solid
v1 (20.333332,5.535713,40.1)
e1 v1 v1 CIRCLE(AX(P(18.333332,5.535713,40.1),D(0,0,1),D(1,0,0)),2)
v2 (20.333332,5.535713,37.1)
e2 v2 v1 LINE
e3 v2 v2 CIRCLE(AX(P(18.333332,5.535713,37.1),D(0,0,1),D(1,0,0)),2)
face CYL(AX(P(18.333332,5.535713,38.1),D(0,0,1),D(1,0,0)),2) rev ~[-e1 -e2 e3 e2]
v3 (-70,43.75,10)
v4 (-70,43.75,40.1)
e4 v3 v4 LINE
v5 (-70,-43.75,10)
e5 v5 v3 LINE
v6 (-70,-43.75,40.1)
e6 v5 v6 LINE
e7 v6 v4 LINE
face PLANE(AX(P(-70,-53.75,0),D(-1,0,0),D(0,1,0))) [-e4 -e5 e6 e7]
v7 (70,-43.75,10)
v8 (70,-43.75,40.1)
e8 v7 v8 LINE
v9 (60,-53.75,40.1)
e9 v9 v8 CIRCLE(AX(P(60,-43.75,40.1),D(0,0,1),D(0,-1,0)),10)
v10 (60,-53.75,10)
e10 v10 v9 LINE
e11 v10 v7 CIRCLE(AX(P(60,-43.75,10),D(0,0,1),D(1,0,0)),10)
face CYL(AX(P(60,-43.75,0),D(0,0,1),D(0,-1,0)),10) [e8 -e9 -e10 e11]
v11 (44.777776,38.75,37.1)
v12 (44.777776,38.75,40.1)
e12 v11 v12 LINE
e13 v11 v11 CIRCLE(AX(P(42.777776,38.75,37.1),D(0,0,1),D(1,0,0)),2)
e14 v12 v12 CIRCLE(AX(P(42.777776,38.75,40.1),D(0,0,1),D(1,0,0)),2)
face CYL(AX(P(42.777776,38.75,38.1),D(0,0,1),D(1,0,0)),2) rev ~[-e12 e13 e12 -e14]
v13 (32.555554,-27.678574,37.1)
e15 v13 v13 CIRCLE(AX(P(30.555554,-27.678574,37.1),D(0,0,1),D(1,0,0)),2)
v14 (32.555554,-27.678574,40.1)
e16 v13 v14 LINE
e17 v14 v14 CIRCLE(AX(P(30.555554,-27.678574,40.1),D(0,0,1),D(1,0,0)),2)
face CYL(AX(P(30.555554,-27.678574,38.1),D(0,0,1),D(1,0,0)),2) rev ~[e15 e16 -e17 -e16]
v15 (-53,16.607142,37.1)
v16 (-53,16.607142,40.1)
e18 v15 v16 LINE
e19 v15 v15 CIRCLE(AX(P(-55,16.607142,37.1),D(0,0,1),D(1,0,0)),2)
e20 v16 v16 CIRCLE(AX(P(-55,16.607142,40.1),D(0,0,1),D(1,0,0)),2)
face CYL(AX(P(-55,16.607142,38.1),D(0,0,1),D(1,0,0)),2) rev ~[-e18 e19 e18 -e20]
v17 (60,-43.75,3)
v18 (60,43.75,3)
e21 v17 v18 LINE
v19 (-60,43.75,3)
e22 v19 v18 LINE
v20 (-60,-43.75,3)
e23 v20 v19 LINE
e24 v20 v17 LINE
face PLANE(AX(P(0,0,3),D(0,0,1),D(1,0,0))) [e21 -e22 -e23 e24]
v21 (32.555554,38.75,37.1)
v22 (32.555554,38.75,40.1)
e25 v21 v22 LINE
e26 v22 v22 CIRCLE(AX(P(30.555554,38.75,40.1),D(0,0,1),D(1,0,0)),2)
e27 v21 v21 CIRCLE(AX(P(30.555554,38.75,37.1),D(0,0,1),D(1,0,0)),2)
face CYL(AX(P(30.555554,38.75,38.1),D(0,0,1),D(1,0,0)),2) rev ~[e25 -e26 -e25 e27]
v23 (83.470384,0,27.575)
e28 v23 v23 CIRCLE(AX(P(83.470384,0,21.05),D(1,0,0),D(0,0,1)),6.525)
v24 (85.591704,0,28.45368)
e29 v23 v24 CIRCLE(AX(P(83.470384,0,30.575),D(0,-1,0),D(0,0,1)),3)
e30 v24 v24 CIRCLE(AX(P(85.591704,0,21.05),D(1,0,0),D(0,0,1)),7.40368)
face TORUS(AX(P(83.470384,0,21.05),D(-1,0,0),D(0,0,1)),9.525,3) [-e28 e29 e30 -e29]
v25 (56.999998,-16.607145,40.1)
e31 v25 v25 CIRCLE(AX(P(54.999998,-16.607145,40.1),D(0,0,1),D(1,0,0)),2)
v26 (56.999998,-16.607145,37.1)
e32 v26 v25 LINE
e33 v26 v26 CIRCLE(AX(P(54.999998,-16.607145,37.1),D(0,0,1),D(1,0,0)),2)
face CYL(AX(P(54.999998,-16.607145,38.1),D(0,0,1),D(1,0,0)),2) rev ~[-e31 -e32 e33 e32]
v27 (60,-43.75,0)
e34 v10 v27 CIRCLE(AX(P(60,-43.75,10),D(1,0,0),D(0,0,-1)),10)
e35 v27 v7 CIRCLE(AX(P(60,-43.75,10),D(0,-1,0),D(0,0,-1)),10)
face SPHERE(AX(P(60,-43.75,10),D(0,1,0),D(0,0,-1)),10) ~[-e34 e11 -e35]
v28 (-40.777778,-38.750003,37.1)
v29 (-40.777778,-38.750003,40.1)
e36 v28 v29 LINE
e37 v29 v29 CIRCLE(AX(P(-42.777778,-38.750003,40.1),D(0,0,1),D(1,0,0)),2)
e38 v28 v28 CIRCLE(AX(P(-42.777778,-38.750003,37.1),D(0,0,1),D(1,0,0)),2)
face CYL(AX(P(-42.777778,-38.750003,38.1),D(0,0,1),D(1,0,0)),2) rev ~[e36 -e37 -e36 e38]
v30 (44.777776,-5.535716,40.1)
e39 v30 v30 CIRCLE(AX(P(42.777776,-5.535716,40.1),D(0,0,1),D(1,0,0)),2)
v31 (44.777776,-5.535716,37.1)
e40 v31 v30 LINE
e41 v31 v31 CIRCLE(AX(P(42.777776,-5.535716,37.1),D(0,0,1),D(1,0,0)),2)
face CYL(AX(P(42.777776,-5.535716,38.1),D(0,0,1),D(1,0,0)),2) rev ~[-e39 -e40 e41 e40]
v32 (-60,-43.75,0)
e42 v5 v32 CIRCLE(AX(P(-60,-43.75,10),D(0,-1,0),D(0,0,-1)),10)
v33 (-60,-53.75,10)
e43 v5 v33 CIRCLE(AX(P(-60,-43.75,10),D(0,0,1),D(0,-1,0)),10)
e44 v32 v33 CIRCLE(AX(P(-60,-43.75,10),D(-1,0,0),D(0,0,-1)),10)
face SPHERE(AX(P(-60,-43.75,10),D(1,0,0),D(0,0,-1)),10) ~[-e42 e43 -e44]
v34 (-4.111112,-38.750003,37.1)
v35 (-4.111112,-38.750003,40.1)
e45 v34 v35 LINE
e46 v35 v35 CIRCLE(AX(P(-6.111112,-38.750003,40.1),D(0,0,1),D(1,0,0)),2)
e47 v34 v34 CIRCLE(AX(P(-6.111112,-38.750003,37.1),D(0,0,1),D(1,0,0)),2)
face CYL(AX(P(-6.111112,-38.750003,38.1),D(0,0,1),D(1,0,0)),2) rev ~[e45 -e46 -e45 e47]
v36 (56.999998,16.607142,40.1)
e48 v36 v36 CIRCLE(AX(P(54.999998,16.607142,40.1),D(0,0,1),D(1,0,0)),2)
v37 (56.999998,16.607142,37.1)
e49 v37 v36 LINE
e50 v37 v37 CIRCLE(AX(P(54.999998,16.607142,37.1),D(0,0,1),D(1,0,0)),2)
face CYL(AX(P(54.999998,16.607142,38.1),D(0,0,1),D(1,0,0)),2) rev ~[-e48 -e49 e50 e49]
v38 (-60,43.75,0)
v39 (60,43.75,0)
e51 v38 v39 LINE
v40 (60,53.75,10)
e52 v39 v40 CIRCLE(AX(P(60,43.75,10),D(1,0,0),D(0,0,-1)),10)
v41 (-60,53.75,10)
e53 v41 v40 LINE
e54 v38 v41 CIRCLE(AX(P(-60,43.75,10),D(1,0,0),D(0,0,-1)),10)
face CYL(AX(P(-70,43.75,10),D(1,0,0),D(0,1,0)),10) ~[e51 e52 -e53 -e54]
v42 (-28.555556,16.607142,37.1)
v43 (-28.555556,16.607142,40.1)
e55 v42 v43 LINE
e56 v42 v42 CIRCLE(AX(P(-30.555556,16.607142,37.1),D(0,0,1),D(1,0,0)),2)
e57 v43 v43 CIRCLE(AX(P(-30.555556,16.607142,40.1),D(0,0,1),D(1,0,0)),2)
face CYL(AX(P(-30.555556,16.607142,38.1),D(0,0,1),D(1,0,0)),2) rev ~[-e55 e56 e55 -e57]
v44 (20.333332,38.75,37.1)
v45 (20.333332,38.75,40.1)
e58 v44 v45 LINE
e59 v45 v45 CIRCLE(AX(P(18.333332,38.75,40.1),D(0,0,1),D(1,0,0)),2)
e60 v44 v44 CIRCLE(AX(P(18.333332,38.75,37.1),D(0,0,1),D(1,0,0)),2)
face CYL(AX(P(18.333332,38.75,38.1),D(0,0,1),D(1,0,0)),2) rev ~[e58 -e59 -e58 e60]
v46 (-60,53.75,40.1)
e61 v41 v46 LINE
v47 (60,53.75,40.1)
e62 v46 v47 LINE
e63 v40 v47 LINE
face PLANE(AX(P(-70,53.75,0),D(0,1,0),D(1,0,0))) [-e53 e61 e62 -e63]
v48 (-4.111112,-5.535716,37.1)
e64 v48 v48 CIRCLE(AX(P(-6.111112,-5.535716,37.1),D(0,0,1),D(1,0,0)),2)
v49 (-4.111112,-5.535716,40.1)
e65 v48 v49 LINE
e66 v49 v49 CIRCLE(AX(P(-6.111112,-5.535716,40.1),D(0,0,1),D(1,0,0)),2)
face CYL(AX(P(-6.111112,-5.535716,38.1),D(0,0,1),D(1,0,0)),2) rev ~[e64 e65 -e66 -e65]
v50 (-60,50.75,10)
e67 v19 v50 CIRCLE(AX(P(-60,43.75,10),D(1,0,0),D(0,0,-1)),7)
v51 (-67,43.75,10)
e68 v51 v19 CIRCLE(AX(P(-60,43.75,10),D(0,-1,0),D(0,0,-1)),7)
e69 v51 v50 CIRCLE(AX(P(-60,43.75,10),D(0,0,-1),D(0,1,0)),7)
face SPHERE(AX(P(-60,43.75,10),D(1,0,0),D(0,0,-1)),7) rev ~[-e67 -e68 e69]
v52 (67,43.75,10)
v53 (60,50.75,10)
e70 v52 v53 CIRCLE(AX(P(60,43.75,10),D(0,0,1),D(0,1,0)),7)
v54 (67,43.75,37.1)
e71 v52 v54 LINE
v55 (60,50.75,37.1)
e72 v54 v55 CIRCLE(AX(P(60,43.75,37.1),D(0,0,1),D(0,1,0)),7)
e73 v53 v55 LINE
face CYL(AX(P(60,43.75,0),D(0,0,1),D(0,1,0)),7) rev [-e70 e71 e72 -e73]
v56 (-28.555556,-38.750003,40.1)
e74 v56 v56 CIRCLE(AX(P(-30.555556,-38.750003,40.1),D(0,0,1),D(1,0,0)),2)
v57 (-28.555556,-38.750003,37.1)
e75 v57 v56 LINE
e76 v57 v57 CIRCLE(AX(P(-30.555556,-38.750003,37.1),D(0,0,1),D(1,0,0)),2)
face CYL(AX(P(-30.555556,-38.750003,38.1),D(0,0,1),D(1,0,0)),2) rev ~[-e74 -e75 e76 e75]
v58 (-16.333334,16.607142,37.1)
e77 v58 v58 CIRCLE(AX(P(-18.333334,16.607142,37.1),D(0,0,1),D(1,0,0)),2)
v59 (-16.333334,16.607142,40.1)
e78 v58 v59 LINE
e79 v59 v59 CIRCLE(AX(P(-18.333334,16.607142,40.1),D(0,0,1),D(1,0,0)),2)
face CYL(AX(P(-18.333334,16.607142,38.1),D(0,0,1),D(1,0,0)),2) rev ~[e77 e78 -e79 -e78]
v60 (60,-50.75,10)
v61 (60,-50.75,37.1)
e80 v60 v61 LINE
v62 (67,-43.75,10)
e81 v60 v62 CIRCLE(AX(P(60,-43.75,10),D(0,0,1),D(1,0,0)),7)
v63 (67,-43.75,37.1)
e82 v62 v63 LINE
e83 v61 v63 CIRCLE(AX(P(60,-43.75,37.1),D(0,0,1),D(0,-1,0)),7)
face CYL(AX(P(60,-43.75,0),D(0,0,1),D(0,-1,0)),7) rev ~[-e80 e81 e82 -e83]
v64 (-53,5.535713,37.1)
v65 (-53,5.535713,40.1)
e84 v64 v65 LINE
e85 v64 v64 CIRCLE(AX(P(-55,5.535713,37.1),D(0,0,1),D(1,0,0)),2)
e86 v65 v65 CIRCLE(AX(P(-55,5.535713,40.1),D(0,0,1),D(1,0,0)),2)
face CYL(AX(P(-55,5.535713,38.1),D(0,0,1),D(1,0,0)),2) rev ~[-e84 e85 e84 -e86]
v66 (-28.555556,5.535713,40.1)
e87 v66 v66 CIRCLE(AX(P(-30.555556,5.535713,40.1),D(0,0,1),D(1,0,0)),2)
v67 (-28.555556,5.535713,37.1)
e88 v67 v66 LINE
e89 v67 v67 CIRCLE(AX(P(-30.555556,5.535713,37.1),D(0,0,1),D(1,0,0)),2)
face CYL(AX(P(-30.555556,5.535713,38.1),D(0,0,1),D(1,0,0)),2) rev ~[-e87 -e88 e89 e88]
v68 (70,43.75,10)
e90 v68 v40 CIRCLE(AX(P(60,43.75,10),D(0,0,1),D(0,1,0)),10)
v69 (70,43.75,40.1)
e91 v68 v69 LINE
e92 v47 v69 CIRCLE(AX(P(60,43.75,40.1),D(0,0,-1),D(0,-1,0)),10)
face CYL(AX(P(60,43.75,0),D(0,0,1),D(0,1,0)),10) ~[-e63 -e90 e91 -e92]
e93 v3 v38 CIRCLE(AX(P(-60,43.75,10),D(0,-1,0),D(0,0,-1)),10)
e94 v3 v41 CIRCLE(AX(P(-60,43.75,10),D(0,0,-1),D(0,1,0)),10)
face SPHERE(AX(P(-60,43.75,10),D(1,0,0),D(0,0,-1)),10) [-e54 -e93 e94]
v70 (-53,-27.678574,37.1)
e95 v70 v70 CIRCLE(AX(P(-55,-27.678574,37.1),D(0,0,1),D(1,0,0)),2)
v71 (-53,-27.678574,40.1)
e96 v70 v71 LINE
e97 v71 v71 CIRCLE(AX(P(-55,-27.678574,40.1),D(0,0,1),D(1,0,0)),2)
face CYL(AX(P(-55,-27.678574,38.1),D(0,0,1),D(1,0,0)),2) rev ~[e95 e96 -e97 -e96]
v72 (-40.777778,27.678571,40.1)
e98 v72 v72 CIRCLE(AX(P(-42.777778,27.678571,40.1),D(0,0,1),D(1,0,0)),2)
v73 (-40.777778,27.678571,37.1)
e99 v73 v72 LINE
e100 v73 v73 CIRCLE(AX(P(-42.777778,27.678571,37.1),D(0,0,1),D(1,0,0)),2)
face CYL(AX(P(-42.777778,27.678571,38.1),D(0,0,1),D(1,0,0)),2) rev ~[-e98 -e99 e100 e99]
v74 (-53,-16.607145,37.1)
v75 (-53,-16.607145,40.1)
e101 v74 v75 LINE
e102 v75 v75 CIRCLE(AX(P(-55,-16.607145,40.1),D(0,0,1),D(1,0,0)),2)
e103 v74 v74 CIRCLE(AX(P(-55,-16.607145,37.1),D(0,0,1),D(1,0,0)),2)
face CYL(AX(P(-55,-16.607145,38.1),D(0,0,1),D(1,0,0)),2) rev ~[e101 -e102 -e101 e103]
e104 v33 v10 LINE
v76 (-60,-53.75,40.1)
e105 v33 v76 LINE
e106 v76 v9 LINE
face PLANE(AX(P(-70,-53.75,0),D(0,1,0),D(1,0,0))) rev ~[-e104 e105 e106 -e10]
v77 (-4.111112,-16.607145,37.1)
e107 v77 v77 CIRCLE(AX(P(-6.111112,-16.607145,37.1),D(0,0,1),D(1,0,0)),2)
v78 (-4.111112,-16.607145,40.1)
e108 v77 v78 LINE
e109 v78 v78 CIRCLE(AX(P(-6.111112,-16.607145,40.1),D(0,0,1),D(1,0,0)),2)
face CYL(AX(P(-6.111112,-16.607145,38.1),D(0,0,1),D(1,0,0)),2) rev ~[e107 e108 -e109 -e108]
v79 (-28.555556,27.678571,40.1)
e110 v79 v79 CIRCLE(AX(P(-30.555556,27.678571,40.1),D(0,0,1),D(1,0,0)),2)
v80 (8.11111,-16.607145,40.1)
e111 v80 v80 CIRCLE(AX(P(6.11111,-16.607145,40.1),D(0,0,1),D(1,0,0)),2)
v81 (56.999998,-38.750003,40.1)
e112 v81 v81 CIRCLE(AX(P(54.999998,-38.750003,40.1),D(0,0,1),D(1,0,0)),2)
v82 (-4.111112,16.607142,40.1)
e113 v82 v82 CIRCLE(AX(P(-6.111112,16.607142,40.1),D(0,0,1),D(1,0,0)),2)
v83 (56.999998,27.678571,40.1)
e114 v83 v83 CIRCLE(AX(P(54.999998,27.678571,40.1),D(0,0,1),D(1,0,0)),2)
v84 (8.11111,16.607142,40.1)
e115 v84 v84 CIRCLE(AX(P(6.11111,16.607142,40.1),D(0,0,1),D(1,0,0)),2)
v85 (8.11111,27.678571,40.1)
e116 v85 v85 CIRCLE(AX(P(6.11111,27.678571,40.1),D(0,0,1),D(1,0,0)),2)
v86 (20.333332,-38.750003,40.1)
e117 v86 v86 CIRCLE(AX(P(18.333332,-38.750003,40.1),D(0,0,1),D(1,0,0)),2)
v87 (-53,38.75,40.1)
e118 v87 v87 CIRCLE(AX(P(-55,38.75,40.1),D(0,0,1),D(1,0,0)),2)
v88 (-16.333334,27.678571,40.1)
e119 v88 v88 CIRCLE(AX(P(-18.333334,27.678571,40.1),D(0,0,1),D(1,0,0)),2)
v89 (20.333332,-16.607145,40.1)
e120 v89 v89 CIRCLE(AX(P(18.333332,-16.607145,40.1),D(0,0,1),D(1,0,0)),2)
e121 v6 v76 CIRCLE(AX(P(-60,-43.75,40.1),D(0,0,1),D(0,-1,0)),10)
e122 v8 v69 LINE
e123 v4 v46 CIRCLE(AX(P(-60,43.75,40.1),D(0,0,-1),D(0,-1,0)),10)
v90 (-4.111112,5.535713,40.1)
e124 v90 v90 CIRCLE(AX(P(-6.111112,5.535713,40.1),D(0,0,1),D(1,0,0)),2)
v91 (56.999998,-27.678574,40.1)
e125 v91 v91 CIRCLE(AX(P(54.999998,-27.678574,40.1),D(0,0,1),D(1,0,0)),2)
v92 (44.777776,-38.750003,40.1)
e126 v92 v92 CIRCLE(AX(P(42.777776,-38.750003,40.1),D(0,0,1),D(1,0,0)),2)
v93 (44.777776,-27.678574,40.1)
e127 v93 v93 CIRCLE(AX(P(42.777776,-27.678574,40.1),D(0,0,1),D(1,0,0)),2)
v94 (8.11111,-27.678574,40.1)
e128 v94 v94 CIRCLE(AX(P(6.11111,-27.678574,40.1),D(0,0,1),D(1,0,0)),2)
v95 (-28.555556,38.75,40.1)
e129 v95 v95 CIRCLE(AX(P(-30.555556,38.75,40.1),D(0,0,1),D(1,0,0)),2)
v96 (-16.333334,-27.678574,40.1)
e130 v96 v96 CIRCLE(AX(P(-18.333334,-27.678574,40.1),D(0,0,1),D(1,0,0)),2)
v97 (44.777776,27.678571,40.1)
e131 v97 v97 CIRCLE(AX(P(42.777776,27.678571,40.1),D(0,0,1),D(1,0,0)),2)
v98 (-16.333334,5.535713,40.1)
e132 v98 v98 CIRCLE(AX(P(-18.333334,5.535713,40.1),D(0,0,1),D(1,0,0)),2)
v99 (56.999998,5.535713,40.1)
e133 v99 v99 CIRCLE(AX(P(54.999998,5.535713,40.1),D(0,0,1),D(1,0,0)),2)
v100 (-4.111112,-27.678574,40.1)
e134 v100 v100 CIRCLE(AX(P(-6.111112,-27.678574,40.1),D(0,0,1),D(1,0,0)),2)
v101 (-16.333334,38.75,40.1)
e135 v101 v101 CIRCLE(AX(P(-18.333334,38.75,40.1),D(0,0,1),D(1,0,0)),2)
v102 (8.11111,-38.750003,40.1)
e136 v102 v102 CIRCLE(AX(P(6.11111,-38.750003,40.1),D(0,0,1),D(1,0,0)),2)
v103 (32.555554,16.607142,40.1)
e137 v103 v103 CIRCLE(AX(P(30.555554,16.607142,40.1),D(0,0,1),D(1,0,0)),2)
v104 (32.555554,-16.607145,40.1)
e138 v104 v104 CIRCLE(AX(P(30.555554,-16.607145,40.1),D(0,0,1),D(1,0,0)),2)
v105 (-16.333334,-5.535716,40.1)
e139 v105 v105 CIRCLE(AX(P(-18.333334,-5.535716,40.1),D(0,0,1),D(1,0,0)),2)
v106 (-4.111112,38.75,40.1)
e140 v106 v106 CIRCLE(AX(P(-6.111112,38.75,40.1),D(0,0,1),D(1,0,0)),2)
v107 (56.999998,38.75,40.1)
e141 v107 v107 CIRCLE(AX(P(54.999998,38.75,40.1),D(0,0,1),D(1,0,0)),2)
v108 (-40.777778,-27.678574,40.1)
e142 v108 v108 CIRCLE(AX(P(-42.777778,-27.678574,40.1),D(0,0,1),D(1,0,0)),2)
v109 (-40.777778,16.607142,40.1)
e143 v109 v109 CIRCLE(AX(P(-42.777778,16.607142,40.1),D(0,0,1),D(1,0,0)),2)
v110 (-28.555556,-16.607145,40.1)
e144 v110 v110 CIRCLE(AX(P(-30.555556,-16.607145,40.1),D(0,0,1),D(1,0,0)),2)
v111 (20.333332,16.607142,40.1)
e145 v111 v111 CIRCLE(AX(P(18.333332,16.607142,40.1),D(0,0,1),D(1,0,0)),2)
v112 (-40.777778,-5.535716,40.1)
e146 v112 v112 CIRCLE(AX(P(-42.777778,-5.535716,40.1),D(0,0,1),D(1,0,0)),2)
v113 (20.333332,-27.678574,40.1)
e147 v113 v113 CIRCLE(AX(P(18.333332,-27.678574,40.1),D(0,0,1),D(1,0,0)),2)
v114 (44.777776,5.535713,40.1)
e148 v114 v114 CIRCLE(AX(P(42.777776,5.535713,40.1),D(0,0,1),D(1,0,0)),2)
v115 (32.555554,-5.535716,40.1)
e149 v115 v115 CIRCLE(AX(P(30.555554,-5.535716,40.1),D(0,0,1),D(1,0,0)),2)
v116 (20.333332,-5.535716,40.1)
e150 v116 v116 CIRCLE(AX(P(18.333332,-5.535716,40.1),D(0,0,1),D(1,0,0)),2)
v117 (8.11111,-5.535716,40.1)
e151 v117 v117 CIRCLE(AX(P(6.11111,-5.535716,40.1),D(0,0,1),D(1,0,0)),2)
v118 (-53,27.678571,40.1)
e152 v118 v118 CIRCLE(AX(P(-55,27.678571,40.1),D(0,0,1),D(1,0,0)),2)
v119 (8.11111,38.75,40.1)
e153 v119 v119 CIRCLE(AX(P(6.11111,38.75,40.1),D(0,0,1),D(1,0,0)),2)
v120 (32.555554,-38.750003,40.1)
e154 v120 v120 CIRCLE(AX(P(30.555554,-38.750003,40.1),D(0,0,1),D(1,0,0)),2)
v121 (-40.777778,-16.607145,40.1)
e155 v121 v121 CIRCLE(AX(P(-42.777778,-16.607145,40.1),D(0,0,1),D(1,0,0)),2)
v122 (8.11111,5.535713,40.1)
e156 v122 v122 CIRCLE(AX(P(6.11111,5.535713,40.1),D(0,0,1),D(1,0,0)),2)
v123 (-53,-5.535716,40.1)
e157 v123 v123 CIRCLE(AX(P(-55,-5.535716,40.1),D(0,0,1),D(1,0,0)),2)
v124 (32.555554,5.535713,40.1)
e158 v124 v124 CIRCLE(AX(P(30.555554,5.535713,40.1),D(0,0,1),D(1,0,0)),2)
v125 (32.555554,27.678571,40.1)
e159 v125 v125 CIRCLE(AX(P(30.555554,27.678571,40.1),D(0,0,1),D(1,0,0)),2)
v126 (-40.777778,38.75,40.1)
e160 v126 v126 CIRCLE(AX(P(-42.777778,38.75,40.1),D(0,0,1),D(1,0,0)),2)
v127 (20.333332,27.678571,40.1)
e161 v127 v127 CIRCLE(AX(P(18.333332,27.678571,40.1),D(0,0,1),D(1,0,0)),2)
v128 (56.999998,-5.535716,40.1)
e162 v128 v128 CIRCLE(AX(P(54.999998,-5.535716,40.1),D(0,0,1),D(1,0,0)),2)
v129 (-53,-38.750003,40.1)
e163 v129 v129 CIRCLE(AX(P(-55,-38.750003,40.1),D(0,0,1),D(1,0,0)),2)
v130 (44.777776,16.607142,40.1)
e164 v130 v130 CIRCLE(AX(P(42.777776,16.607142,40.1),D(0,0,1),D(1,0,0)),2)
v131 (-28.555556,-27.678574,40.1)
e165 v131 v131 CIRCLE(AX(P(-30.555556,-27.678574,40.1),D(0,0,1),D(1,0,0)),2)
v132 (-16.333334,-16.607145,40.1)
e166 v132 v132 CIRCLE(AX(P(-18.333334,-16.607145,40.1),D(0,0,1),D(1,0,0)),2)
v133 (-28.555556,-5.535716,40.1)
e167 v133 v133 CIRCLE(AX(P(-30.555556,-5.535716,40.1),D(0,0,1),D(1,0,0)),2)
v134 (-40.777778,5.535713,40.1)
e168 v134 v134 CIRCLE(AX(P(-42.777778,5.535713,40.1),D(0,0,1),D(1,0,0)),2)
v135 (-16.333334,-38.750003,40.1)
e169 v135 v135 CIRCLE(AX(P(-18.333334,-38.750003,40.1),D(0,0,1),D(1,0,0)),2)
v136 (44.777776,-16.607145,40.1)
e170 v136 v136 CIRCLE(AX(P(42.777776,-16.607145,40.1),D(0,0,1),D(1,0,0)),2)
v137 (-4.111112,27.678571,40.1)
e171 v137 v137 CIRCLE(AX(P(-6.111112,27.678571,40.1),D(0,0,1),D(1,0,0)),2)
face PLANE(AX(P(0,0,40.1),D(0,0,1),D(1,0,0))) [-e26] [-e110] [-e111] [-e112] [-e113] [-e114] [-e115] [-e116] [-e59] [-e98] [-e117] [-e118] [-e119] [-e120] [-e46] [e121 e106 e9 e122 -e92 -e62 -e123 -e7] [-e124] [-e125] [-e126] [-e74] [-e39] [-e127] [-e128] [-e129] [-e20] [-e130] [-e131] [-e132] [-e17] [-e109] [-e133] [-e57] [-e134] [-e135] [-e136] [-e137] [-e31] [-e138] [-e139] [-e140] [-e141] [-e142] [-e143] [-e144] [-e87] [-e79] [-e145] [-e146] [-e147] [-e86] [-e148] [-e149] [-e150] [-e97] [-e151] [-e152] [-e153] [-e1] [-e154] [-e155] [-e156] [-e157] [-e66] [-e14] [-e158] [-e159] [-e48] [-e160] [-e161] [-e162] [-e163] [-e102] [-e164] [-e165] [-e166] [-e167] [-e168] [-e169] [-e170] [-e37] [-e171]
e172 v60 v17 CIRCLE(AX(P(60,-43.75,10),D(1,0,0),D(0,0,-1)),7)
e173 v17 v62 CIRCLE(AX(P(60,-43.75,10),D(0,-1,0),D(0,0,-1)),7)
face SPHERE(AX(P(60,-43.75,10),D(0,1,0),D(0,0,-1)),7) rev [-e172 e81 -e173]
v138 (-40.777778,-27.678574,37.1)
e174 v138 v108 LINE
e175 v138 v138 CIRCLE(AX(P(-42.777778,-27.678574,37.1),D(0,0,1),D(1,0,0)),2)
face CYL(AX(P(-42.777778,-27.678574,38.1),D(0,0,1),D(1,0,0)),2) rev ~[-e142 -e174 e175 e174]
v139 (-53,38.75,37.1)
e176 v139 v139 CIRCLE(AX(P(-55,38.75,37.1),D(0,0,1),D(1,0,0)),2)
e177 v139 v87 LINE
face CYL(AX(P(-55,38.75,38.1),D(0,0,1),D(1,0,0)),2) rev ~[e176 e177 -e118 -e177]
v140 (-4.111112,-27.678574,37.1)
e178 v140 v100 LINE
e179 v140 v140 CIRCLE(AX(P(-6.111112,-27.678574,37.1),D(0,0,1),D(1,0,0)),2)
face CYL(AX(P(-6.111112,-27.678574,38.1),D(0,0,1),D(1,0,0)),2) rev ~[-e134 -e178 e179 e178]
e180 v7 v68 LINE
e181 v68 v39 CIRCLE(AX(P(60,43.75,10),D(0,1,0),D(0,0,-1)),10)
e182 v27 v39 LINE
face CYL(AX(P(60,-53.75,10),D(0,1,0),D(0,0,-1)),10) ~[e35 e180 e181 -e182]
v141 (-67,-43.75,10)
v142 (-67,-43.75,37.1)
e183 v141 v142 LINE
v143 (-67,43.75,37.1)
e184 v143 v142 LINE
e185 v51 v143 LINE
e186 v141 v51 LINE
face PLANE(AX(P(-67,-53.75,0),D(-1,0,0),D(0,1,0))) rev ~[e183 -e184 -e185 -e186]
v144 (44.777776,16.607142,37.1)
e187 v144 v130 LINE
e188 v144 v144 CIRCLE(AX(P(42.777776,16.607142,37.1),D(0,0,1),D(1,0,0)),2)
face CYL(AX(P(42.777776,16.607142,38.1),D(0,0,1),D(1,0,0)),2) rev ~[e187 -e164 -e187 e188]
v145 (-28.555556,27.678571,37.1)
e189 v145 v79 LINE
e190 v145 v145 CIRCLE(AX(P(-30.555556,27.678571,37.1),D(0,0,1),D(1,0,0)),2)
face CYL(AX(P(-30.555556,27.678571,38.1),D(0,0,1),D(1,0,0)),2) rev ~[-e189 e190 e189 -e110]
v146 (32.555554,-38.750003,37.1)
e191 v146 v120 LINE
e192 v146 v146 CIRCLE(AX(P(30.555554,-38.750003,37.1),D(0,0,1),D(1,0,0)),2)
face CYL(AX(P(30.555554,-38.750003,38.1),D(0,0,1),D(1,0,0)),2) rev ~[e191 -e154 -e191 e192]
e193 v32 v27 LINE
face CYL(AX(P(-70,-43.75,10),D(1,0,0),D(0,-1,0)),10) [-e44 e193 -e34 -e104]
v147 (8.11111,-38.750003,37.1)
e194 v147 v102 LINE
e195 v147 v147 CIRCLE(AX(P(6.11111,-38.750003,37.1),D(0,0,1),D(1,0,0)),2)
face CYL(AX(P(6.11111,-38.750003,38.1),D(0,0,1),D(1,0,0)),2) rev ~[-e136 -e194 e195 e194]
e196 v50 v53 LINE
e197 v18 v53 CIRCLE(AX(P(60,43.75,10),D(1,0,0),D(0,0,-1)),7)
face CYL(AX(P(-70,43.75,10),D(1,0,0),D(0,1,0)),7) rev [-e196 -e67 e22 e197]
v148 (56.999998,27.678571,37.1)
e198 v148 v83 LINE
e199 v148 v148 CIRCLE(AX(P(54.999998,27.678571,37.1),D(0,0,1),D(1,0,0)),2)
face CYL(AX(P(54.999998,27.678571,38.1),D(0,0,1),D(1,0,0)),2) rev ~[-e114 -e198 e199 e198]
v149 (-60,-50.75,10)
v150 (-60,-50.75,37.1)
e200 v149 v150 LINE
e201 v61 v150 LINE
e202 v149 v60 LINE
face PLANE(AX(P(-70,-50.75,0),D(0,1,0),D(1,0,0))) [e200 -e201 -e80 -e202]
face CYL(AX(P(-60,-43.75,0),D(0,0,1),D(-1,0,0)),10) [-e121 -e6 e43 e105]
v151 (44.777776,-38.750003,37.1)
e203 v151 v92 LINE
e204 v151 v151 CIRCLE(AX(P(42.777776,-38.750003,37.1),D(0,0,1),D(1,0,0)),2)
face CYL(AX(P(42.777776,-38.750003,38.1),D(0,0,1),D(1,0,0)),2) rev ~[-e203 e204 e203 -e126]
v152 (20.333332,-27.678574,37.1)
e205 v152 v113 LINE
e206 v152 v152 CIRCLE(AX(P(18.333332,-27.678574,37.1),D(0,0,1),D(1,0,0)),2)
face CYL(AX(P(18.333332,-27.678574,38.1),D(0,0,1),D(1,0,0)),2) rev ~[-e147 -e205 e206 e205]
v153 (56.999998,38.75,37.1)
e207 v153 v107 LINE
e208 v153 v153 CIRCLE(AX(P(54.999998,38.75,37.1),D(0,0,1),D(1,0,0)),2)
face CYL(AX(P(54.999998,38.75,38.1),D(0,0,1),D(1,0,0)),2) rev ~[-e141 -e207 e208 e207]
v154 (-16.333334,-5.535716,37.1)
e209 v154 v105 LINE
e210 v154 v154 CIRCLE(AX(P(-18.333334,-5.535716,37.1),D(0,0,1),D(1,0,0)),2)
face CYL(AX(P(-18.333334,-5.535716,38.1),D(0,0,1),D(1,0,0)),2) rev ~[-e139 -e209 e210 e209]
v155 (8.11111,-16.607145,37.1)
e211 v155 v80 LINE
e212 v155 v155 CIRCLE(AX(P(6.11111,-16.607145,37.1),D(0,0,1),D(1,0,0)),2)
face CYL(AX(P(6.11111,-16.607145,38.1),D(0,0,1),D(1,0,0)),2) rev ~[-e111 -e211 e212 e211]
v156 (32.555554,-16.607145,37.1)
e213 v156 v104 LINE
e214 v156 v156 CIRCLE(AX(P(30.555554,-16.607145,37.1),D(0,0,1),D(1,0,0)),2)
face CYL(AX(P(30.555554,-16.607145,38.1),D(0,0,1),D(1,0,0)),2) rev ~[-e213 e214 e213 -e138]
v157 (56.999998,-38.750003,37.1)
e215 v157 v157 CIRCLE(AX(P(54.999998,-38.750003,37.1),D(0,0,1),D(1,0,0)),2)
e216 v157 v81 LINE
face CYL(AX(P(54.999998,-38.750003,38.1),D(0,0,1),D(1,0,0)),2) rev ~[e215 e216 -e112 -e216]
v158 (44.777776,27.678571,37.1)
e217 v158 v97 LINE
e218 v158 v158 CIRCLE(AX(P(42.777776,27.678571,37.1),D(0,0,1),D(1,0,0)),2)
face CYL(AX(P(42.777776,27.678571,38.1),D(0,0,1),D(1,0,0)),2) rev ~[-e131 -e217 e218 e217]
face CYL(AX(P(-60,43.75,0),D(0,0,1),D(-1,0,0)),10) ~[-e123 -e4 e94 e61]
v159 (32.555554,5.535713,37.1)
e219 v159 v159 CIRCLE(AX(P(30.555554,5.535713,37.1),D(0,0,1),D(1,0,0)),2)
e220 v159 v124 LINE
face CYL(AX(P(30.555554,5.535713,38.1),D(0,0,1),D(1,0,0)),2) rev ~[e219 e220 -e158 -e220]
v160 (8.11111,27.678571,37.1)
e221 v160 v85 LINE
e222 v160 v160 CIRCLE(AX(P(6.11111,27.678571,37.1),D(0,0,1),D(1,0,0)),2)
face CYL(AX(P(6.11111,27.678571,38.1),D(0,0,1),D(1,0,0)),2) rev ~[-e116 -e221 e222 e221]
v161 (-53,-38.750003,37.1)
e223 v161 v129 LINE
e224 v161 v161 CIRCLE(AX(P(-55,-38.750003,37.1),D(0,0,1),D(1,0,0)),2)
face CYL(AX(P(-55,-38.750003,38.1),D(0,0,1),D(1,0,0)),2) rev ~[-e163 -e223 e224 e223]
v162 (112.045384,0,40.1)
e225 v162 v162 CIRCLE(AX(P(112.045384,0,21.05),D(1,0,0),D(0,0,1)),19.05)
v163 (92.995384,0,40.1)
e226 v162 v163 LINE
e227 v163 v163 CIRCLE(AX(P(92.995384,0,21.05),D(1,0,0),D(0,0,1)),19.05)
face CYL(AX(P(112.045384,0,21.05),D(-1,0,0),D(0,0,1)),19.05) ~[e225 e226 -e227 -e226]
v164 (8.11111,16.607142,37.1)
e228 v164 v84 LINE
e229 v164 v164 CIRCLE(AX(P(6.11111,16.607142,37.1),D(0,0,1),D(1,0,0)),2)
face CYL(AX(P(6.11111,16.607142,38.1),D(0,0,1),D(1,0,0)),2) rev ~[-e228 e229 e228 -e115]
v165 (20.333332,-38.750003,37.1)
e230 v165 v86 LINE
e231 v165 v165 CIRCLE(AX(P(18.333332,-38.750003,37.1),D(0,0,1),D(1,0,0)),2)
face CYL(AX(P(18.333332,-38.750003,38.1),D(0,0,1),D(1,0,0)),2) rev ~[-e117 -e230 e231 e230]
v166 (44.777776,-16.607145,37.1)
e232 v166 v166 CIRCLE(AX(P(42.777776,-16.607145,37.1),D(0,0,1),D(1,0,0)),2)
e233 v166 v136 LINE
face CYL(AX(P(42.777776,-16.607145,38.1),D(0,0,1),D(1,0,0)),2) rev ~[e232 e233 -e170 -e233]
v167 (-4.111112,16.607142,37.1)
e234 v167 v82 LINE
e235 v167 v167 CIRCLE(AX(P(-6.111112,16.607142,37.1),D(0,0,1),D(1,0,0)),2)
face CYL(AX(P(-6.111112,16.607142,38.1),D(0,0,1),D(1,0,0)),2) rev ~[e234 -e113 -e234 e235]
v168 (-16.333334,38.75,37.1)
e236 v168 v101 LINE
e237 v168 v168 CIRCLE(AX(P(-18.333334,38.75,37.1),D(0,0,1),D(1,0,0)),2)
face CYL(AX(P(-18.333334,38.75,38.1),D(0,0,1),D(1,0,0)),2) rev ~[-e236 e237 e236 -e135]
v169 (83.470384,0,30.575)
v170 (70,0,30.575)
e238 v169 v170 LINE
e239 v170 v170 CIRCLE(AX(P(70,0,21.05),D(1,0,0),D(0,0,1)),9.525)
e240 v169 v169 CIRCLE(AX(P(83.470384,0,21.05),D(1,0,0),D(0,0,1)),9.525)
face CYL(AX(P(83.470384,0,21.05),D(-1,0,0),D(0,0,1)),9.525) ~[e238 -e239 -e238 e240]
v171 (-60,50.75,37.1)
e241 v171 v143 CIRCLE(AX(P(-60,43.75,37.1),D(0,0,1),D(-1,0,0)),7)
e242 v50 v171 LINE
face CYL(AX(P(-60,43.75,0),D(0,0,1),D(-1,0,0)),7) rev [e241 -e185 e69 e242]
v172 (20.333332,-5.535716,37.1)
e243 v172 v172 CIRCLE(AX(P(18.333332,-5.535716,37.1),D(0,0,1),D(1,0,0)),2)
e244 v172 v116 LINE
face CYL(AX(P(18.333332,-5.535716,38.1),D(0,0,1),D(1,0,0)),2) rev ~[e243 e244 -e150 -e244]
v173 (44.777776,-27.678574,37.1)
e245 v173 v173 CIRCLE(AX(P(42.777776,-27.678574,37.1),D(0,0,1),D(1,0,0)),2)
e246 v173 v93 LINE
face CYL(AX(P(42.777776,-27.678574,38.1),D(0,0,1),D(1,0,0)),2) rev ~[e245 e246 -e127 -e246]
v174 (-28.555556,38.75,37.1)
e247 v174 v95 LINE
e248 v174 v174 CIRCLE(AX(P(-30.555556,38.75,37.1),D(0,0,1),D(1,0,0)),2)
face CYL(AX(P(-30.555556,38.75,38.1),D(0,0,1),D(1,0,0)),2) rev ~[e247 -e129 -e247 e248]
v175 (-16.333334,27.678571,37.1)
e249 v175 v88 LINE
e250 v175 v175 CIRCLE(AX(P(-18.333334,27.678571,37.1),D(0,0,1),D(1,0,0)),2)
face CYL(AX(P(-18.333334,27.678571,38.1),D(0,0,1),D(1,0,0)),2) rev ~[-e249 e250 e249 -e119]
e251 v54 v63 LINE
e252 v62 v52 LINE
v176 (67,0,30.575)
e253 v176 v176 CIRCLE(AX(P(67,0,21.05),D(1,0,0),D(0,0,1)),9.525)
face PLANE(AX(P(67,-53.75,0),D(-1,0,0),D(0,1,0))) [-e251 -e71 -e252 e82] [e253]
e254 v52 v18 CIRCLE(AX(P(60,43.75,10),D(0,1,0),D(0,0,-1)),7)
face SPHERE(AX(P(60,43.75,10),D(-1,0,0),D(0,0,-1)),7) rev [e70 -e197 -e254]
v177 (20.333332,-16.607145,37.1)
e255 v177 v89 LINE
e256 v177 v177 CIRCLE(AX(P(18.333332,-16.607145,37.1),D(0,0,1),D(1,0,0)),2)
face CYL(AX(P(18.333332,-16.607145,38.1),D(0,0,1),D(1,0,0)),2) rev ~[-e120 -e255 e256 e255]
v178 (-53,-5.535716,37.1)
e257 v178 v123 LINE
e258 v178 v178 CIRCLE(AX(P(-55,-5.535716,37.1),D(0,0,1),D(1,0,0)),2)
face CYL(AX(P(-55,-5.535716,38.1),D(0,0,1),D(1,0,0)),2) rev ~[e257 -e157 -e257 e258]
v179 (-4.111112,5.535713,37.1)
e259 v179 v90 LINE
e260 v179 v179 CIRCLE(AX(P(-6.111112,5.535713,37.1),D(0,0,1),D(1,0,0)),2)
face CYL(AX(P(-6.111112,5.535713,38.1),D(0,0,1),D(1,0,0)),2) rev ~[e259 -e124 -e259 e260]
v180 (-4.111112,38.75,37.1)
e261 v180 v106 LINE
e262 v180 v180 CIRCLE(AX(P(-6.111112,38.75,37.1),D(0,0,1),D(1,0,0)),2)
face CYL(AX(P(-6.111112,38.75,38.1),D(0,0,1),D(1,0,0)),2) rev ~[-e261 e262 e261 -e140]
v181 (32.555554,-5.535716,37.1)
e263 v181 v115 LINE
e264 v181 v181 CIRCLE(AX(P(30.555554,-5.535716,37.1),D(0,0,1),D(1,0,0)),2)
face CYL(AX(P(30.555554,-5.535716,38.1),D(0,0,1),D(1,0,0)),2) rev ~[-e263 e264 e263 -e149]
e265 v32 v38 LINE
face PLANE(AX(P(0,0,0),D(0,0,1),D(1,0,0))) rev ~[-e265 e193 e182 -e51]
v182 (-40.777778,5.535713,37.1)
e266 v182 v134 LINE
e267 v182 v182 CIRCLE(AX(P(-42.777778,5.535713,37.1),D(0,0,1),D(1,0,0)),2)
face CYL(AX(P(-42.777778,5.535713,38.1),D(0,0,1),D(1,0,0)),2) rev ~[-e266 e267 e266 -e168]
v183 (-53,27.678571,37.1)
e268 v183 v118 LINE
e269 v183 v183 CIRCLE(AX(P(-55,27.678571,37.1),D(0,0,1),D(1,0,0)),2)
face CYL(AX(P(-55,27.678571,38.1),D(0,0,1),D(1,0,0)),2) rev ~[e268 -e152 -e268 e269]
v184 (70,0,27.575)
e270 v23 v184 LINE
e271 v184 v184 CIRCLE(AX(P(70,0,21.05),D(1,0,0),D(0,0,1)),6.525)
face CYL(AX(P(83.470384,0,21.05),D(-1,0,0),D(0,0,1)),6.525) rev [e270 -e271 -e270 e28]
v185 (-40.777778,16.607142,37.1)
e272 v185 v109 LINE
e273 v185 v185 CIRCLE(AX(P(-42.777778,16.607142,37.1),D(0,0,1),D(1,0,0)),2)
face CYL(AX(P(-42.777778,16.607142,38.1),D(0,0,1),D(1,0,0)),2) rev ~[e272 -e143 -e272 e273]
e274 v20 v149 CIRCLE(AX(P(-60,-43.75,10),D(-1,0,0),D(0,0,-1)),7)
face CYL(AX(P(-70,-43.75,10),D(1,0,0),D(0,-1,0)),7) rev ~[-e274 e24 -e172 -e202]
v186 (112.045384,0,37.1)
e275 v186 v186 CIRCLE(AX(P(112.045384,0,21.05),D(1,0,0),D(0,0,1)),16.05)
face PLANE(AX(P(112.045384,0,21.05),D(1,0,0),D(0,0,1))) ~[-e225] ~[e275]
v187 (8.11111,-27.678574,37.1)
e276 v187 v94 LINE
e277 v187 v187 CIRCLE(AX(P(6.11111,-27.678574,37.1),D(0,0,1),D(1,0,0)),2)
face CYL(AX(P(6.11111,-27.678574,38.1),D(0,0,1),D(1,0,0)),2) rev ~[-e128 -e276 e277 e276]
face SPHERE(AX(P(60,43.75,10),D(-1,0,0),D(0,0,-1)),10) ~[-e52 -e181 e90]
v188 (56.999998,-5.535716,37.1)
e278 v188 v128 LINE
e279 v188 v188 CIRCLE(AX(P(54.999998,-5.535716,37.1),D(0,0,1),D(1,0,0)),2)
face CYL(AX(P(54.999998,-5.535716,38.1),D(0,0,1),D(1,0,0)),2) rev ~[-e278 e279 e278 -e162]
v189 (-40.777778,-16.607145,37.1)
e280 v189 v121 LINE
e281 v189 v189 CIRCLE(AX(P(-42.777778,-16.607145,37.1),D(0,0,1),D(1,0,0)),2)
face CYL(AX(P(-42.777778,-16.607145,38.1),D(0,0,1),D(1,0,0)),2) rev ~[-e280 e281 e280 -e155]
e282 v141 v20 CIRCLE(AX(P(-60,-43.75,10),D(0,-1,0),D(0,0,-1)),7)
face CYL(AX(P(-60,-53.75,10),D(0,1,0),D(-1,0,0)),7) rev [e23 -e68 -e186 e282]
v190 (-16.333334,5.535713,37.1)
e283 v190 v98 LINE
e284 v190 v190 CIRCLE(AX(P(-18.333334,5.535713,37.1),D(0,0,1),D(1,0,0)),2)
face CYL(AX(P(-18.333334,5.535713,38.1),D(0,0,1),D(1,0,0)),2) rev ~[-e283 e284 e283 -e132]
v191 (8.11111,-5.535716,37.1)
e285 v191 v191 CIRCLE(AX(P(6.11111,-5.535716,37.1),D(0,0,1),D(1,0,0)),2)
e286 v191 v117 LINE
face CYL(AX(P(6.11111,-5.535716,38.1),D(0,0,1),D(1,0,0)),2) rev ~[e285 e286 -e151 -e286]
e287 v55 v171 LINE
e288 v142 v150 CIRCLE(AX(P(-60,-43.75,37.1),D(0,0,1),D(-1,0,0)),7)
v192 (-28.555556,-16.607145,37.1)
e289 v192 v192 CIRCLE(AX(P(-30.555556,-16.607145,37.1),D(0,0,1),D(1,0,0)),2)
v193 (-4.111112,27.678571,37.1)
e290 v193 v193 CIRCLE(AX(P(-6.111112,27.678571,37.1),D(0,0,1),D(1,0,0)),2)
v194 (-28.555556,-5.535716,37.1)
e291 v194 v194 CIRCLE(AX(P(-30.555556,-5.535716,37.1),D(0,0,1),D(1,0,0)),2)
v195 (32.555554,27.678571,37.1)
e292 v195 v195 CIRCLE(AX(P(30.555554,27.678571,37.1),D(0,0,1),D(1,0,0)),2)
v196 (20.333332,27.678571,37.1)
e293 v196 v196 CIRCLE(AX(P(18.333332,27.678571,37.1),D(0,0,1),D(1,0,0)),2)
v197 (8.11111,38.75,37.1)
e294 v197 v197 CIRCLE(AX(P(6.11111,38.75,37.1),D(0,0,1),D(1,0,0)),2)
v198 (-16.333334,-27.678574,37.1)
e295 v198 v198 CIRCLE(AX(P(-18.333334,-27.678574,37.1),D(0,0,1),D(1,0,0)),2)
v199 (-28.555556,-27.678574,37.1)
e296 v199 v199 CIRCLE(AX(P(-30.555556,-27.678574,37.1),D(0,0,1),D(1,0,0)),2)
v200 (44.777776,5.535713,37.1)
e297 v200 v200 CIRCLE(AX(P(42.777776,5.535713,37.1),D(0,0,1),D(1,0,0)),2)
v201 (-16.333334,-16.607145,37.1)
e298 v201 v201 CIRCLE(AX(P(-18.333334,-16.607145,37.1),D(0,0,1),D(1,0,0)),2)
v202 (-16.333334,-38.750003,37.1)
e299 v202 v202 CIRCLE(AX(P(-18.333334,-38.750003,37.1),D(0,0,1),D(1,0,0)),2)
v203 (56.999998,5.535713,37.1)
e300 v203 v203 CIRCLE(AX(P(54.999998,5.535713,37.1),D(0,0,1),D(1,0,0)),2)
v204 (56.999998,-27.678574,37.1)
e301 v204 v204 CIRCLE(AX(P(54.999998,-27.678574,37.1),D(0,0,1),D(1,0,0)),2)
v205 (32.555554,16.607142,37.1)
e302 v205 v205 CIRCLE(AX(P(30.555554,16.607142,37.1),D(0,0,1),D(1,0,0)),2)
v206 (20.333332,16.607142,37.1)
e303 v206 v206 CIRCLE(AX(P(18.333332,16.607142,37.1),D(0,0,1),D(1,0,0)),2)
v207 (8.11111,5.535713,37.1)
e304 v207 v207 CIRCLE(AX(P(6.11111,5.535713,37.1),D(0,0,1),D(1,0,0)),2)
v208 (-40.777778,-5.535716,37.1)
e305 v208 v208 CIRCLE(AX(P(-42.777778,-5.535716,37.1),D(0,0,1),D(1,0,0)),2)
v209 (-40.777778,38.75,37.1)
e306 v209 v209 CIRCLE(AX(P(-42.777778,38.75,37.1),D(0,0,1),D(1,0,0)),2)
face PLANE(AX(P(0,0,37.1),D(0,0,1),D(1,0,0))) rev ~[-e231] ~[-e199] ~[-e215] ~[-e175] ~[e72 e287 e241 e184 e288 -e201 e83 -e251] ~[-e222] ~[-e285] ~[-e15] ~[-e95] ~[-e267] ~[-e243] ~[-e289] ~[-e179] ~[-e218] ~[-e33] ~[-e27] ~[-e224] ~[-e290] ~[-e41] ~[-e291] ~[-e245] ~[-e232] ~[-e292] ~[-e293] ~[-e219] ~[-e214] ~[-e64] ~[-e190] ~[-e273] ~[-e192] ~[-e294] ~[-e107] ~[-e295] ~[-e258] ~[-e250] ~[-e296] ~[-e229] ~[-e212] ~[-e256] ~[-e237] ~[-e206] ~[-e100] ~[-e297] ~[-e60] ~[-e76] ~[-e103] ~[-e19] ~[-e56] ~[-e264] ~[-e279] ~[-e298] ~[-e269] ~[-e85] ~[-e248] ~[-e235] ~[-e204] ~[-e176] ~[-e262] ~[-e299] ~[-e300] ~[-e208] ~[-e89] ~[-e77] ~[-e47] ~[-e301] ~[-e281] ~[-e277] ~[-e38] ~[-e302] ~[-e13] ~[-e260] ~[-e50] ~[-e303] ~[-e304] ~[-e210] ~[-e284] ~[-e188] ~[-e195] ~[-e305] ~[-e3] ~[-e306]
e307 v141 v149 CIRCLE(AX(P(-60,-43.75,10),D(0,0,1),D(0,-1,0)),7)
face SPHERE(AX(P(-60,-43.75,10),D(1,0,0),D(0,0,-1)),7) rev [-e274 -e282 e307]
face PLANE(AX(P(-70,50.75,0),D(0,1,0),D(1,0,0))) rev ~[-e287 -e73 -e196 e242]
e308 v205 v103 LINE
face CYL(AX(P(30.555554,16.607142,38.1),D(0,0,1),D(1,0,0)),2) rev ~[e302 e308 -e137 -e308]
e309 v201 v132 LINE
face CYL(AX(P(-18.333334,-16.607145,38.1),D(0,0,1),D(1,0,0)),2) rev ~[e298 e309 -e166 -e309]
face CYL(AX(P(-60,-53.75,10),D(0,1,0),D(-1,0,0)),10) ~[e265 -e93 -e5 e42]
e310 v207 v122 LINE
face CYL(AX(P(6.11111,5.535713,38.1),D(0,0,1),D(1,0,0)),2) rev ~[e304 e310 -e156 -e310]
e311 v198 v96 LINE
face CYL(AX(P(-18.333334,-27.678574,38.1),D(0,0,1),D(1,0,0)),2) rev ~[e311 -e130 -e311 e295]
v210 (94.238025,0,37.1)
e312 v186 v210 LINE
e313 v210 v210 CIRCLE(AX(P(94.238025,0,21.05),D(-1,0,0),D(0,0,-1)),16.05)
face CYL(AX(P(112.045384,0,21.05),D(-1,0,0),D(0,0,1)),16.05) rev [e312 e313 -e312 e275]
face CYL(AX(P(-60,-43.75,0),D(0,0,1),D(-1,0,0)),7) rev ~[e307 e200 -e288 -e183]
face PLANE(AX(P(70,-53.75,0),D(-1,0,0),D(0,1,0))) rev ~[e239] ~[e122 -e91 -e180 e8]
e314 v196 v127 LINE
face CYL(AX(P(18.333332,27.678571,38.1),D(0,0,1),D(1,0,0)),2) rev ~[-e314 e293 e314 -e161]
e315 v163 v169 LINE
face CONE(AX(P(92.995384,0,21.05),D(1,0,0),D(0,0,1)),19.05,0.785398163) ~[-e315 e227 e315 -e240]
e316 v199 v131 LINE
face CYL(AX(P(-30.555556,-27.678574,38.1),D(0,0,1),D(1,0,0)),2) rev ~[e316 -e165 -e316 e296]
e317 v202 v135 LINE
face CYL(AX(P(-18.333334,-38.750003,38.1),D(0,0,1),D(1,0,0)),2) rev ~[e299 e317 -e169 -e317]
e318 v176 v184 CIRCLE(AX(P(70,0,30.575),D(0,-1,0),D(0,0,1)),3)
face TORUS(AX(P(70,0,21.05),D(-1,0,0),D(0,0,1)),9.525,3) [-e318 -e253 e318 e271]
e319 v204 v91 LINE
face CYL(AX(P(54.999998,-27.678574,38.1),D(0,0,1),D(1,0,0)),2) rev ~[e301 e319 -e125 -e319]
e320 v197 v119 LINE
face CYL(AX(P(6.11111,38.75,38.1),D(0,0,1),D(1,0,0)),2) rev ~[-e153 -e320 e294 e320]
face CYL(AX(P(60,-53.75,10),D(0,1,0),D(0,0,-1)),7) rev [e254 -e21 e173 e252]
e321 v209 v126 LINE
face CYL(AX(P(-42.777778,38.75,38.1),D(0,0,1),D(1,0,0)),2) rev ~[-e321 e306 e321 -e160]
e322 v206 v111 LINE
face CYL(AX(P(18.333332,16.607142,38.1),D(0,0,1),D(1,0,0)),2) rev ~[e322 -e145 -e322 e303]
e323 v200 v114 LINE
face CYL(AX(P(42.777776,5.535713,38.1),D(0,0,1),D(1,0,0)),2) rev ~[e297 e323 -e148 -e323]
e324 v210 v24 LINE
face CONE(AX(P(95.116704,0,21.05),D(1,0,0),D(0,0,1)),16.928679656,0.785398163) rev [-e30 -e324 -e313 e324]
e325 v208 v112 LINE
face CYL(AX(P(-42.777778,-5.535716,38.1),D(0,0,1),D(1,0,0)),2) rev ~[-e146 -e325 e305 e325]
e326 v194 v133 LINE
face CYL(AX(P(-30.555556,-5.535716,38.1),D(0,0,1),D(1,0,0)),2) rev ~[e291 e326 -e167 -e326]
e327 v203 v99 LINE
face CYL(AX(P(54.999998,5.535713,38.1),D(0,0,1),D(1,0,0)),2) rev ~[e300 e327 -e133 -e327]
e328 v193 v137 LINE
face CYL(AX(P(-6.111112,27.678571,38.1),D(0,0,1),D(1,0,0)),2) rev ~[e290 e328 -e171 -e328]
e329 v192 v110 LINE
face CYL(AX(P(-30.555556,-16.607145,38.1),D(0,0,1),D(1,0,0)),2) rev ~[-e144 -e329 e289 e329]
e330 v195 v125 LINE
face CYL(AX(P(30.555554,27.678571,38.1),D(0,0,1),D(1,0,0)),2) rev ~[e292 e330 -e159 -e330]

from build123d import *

# Parameters (mm, degrees)
SKETCH002_R   = 2
PAD001_DEPTH  = 5
ARRAY_X_COUNT = 10
ARRAY_X_PITCH = 12.222222
ARRAY_Y_COUNT = 8
ARRAY_Y_PITCH = 11.071429
SKETCH_W      = 140
SKETCH_H      = 107.5
PAD_DEPTH     = 40.1
FILLET_R      = 10
THICKNESS_T   = -3


with BuildPart() as array:
    # Sketch002 → Pad001 (new body, symmetric)
    with BuildSketch(Plane.XY):
        with Locations((-55, 38.75)):
            Circle(SKETCH002_R)
    extrude(amount=PAD001_DEPTH, both=True)


with BuildPart() as array_1:
    # Body placement: moved
    add(array.part.moved(Location((0, 0, 38.1))))

    # Array X: Array ×10


with BuildPart() as array_2:
    add(array_1.part)
    with Locations(*[(i * ARRAY_X_PITCH, 0, 0) for i in range(1, ARRAY_X_COUNT)]):
        add(array_1.part)

    # Array Y: Array ×8


with BuildPart() as array_3:
    add(array_2.part)
    with Locations(*[(0, -i * ARRAY_Y_PITCH, 0) for i in range(1, ARRAY_Y_COUNT)]):
        add(array_2.part)


with BuildPart() as cut:
    # Sketch → Pad (new body)
    with BuildSketch(Plane.XY):
        Rectangle(SKETCH_W, SKETCH_H)
    extrude(amount=PAD_DEPTH)

    # Sketch001 → Revolution (revolve)
    with BuildSketch(Plane.XZ):
        Polygon((70, 30.575), (70, 21.05), (112.045384, 21.05), (112.045384, 40.1), (92.995384, 40.1), (83.470384, 30.575), align=None)
    revolve(axis=Axis((0, 0, 21.05), (1, 0, 0)))

    # Fillet
    fillet_edges = [cut.edges().sort_by_distance(p)[0] for p in [
        (0, 53.75, 0),
        (70, 0, 0),
        (0, -53.75, 0),
        (-70, 0, 0),
        (-70, 53.75, 20.05),
        (70, 53.75, 20.05),
        (-70, -53.75, 20.05),
        (70, -53.75, 20.05),
    ]]
    fillet(fillet_edges, radius=FILLET_R)

    # Thickness
    thickness_openings = [cut.faces().sort_by_distance(p)[0] for p in [
        (112.045384, 0, 21.05),
    ]]
    offset(amount=THICKNESS_T, openings=thickness_openings)

    # Cut: cut Array
    add(array_3.part, mode=Mode.SUBTRACT)


solid = cut.part
